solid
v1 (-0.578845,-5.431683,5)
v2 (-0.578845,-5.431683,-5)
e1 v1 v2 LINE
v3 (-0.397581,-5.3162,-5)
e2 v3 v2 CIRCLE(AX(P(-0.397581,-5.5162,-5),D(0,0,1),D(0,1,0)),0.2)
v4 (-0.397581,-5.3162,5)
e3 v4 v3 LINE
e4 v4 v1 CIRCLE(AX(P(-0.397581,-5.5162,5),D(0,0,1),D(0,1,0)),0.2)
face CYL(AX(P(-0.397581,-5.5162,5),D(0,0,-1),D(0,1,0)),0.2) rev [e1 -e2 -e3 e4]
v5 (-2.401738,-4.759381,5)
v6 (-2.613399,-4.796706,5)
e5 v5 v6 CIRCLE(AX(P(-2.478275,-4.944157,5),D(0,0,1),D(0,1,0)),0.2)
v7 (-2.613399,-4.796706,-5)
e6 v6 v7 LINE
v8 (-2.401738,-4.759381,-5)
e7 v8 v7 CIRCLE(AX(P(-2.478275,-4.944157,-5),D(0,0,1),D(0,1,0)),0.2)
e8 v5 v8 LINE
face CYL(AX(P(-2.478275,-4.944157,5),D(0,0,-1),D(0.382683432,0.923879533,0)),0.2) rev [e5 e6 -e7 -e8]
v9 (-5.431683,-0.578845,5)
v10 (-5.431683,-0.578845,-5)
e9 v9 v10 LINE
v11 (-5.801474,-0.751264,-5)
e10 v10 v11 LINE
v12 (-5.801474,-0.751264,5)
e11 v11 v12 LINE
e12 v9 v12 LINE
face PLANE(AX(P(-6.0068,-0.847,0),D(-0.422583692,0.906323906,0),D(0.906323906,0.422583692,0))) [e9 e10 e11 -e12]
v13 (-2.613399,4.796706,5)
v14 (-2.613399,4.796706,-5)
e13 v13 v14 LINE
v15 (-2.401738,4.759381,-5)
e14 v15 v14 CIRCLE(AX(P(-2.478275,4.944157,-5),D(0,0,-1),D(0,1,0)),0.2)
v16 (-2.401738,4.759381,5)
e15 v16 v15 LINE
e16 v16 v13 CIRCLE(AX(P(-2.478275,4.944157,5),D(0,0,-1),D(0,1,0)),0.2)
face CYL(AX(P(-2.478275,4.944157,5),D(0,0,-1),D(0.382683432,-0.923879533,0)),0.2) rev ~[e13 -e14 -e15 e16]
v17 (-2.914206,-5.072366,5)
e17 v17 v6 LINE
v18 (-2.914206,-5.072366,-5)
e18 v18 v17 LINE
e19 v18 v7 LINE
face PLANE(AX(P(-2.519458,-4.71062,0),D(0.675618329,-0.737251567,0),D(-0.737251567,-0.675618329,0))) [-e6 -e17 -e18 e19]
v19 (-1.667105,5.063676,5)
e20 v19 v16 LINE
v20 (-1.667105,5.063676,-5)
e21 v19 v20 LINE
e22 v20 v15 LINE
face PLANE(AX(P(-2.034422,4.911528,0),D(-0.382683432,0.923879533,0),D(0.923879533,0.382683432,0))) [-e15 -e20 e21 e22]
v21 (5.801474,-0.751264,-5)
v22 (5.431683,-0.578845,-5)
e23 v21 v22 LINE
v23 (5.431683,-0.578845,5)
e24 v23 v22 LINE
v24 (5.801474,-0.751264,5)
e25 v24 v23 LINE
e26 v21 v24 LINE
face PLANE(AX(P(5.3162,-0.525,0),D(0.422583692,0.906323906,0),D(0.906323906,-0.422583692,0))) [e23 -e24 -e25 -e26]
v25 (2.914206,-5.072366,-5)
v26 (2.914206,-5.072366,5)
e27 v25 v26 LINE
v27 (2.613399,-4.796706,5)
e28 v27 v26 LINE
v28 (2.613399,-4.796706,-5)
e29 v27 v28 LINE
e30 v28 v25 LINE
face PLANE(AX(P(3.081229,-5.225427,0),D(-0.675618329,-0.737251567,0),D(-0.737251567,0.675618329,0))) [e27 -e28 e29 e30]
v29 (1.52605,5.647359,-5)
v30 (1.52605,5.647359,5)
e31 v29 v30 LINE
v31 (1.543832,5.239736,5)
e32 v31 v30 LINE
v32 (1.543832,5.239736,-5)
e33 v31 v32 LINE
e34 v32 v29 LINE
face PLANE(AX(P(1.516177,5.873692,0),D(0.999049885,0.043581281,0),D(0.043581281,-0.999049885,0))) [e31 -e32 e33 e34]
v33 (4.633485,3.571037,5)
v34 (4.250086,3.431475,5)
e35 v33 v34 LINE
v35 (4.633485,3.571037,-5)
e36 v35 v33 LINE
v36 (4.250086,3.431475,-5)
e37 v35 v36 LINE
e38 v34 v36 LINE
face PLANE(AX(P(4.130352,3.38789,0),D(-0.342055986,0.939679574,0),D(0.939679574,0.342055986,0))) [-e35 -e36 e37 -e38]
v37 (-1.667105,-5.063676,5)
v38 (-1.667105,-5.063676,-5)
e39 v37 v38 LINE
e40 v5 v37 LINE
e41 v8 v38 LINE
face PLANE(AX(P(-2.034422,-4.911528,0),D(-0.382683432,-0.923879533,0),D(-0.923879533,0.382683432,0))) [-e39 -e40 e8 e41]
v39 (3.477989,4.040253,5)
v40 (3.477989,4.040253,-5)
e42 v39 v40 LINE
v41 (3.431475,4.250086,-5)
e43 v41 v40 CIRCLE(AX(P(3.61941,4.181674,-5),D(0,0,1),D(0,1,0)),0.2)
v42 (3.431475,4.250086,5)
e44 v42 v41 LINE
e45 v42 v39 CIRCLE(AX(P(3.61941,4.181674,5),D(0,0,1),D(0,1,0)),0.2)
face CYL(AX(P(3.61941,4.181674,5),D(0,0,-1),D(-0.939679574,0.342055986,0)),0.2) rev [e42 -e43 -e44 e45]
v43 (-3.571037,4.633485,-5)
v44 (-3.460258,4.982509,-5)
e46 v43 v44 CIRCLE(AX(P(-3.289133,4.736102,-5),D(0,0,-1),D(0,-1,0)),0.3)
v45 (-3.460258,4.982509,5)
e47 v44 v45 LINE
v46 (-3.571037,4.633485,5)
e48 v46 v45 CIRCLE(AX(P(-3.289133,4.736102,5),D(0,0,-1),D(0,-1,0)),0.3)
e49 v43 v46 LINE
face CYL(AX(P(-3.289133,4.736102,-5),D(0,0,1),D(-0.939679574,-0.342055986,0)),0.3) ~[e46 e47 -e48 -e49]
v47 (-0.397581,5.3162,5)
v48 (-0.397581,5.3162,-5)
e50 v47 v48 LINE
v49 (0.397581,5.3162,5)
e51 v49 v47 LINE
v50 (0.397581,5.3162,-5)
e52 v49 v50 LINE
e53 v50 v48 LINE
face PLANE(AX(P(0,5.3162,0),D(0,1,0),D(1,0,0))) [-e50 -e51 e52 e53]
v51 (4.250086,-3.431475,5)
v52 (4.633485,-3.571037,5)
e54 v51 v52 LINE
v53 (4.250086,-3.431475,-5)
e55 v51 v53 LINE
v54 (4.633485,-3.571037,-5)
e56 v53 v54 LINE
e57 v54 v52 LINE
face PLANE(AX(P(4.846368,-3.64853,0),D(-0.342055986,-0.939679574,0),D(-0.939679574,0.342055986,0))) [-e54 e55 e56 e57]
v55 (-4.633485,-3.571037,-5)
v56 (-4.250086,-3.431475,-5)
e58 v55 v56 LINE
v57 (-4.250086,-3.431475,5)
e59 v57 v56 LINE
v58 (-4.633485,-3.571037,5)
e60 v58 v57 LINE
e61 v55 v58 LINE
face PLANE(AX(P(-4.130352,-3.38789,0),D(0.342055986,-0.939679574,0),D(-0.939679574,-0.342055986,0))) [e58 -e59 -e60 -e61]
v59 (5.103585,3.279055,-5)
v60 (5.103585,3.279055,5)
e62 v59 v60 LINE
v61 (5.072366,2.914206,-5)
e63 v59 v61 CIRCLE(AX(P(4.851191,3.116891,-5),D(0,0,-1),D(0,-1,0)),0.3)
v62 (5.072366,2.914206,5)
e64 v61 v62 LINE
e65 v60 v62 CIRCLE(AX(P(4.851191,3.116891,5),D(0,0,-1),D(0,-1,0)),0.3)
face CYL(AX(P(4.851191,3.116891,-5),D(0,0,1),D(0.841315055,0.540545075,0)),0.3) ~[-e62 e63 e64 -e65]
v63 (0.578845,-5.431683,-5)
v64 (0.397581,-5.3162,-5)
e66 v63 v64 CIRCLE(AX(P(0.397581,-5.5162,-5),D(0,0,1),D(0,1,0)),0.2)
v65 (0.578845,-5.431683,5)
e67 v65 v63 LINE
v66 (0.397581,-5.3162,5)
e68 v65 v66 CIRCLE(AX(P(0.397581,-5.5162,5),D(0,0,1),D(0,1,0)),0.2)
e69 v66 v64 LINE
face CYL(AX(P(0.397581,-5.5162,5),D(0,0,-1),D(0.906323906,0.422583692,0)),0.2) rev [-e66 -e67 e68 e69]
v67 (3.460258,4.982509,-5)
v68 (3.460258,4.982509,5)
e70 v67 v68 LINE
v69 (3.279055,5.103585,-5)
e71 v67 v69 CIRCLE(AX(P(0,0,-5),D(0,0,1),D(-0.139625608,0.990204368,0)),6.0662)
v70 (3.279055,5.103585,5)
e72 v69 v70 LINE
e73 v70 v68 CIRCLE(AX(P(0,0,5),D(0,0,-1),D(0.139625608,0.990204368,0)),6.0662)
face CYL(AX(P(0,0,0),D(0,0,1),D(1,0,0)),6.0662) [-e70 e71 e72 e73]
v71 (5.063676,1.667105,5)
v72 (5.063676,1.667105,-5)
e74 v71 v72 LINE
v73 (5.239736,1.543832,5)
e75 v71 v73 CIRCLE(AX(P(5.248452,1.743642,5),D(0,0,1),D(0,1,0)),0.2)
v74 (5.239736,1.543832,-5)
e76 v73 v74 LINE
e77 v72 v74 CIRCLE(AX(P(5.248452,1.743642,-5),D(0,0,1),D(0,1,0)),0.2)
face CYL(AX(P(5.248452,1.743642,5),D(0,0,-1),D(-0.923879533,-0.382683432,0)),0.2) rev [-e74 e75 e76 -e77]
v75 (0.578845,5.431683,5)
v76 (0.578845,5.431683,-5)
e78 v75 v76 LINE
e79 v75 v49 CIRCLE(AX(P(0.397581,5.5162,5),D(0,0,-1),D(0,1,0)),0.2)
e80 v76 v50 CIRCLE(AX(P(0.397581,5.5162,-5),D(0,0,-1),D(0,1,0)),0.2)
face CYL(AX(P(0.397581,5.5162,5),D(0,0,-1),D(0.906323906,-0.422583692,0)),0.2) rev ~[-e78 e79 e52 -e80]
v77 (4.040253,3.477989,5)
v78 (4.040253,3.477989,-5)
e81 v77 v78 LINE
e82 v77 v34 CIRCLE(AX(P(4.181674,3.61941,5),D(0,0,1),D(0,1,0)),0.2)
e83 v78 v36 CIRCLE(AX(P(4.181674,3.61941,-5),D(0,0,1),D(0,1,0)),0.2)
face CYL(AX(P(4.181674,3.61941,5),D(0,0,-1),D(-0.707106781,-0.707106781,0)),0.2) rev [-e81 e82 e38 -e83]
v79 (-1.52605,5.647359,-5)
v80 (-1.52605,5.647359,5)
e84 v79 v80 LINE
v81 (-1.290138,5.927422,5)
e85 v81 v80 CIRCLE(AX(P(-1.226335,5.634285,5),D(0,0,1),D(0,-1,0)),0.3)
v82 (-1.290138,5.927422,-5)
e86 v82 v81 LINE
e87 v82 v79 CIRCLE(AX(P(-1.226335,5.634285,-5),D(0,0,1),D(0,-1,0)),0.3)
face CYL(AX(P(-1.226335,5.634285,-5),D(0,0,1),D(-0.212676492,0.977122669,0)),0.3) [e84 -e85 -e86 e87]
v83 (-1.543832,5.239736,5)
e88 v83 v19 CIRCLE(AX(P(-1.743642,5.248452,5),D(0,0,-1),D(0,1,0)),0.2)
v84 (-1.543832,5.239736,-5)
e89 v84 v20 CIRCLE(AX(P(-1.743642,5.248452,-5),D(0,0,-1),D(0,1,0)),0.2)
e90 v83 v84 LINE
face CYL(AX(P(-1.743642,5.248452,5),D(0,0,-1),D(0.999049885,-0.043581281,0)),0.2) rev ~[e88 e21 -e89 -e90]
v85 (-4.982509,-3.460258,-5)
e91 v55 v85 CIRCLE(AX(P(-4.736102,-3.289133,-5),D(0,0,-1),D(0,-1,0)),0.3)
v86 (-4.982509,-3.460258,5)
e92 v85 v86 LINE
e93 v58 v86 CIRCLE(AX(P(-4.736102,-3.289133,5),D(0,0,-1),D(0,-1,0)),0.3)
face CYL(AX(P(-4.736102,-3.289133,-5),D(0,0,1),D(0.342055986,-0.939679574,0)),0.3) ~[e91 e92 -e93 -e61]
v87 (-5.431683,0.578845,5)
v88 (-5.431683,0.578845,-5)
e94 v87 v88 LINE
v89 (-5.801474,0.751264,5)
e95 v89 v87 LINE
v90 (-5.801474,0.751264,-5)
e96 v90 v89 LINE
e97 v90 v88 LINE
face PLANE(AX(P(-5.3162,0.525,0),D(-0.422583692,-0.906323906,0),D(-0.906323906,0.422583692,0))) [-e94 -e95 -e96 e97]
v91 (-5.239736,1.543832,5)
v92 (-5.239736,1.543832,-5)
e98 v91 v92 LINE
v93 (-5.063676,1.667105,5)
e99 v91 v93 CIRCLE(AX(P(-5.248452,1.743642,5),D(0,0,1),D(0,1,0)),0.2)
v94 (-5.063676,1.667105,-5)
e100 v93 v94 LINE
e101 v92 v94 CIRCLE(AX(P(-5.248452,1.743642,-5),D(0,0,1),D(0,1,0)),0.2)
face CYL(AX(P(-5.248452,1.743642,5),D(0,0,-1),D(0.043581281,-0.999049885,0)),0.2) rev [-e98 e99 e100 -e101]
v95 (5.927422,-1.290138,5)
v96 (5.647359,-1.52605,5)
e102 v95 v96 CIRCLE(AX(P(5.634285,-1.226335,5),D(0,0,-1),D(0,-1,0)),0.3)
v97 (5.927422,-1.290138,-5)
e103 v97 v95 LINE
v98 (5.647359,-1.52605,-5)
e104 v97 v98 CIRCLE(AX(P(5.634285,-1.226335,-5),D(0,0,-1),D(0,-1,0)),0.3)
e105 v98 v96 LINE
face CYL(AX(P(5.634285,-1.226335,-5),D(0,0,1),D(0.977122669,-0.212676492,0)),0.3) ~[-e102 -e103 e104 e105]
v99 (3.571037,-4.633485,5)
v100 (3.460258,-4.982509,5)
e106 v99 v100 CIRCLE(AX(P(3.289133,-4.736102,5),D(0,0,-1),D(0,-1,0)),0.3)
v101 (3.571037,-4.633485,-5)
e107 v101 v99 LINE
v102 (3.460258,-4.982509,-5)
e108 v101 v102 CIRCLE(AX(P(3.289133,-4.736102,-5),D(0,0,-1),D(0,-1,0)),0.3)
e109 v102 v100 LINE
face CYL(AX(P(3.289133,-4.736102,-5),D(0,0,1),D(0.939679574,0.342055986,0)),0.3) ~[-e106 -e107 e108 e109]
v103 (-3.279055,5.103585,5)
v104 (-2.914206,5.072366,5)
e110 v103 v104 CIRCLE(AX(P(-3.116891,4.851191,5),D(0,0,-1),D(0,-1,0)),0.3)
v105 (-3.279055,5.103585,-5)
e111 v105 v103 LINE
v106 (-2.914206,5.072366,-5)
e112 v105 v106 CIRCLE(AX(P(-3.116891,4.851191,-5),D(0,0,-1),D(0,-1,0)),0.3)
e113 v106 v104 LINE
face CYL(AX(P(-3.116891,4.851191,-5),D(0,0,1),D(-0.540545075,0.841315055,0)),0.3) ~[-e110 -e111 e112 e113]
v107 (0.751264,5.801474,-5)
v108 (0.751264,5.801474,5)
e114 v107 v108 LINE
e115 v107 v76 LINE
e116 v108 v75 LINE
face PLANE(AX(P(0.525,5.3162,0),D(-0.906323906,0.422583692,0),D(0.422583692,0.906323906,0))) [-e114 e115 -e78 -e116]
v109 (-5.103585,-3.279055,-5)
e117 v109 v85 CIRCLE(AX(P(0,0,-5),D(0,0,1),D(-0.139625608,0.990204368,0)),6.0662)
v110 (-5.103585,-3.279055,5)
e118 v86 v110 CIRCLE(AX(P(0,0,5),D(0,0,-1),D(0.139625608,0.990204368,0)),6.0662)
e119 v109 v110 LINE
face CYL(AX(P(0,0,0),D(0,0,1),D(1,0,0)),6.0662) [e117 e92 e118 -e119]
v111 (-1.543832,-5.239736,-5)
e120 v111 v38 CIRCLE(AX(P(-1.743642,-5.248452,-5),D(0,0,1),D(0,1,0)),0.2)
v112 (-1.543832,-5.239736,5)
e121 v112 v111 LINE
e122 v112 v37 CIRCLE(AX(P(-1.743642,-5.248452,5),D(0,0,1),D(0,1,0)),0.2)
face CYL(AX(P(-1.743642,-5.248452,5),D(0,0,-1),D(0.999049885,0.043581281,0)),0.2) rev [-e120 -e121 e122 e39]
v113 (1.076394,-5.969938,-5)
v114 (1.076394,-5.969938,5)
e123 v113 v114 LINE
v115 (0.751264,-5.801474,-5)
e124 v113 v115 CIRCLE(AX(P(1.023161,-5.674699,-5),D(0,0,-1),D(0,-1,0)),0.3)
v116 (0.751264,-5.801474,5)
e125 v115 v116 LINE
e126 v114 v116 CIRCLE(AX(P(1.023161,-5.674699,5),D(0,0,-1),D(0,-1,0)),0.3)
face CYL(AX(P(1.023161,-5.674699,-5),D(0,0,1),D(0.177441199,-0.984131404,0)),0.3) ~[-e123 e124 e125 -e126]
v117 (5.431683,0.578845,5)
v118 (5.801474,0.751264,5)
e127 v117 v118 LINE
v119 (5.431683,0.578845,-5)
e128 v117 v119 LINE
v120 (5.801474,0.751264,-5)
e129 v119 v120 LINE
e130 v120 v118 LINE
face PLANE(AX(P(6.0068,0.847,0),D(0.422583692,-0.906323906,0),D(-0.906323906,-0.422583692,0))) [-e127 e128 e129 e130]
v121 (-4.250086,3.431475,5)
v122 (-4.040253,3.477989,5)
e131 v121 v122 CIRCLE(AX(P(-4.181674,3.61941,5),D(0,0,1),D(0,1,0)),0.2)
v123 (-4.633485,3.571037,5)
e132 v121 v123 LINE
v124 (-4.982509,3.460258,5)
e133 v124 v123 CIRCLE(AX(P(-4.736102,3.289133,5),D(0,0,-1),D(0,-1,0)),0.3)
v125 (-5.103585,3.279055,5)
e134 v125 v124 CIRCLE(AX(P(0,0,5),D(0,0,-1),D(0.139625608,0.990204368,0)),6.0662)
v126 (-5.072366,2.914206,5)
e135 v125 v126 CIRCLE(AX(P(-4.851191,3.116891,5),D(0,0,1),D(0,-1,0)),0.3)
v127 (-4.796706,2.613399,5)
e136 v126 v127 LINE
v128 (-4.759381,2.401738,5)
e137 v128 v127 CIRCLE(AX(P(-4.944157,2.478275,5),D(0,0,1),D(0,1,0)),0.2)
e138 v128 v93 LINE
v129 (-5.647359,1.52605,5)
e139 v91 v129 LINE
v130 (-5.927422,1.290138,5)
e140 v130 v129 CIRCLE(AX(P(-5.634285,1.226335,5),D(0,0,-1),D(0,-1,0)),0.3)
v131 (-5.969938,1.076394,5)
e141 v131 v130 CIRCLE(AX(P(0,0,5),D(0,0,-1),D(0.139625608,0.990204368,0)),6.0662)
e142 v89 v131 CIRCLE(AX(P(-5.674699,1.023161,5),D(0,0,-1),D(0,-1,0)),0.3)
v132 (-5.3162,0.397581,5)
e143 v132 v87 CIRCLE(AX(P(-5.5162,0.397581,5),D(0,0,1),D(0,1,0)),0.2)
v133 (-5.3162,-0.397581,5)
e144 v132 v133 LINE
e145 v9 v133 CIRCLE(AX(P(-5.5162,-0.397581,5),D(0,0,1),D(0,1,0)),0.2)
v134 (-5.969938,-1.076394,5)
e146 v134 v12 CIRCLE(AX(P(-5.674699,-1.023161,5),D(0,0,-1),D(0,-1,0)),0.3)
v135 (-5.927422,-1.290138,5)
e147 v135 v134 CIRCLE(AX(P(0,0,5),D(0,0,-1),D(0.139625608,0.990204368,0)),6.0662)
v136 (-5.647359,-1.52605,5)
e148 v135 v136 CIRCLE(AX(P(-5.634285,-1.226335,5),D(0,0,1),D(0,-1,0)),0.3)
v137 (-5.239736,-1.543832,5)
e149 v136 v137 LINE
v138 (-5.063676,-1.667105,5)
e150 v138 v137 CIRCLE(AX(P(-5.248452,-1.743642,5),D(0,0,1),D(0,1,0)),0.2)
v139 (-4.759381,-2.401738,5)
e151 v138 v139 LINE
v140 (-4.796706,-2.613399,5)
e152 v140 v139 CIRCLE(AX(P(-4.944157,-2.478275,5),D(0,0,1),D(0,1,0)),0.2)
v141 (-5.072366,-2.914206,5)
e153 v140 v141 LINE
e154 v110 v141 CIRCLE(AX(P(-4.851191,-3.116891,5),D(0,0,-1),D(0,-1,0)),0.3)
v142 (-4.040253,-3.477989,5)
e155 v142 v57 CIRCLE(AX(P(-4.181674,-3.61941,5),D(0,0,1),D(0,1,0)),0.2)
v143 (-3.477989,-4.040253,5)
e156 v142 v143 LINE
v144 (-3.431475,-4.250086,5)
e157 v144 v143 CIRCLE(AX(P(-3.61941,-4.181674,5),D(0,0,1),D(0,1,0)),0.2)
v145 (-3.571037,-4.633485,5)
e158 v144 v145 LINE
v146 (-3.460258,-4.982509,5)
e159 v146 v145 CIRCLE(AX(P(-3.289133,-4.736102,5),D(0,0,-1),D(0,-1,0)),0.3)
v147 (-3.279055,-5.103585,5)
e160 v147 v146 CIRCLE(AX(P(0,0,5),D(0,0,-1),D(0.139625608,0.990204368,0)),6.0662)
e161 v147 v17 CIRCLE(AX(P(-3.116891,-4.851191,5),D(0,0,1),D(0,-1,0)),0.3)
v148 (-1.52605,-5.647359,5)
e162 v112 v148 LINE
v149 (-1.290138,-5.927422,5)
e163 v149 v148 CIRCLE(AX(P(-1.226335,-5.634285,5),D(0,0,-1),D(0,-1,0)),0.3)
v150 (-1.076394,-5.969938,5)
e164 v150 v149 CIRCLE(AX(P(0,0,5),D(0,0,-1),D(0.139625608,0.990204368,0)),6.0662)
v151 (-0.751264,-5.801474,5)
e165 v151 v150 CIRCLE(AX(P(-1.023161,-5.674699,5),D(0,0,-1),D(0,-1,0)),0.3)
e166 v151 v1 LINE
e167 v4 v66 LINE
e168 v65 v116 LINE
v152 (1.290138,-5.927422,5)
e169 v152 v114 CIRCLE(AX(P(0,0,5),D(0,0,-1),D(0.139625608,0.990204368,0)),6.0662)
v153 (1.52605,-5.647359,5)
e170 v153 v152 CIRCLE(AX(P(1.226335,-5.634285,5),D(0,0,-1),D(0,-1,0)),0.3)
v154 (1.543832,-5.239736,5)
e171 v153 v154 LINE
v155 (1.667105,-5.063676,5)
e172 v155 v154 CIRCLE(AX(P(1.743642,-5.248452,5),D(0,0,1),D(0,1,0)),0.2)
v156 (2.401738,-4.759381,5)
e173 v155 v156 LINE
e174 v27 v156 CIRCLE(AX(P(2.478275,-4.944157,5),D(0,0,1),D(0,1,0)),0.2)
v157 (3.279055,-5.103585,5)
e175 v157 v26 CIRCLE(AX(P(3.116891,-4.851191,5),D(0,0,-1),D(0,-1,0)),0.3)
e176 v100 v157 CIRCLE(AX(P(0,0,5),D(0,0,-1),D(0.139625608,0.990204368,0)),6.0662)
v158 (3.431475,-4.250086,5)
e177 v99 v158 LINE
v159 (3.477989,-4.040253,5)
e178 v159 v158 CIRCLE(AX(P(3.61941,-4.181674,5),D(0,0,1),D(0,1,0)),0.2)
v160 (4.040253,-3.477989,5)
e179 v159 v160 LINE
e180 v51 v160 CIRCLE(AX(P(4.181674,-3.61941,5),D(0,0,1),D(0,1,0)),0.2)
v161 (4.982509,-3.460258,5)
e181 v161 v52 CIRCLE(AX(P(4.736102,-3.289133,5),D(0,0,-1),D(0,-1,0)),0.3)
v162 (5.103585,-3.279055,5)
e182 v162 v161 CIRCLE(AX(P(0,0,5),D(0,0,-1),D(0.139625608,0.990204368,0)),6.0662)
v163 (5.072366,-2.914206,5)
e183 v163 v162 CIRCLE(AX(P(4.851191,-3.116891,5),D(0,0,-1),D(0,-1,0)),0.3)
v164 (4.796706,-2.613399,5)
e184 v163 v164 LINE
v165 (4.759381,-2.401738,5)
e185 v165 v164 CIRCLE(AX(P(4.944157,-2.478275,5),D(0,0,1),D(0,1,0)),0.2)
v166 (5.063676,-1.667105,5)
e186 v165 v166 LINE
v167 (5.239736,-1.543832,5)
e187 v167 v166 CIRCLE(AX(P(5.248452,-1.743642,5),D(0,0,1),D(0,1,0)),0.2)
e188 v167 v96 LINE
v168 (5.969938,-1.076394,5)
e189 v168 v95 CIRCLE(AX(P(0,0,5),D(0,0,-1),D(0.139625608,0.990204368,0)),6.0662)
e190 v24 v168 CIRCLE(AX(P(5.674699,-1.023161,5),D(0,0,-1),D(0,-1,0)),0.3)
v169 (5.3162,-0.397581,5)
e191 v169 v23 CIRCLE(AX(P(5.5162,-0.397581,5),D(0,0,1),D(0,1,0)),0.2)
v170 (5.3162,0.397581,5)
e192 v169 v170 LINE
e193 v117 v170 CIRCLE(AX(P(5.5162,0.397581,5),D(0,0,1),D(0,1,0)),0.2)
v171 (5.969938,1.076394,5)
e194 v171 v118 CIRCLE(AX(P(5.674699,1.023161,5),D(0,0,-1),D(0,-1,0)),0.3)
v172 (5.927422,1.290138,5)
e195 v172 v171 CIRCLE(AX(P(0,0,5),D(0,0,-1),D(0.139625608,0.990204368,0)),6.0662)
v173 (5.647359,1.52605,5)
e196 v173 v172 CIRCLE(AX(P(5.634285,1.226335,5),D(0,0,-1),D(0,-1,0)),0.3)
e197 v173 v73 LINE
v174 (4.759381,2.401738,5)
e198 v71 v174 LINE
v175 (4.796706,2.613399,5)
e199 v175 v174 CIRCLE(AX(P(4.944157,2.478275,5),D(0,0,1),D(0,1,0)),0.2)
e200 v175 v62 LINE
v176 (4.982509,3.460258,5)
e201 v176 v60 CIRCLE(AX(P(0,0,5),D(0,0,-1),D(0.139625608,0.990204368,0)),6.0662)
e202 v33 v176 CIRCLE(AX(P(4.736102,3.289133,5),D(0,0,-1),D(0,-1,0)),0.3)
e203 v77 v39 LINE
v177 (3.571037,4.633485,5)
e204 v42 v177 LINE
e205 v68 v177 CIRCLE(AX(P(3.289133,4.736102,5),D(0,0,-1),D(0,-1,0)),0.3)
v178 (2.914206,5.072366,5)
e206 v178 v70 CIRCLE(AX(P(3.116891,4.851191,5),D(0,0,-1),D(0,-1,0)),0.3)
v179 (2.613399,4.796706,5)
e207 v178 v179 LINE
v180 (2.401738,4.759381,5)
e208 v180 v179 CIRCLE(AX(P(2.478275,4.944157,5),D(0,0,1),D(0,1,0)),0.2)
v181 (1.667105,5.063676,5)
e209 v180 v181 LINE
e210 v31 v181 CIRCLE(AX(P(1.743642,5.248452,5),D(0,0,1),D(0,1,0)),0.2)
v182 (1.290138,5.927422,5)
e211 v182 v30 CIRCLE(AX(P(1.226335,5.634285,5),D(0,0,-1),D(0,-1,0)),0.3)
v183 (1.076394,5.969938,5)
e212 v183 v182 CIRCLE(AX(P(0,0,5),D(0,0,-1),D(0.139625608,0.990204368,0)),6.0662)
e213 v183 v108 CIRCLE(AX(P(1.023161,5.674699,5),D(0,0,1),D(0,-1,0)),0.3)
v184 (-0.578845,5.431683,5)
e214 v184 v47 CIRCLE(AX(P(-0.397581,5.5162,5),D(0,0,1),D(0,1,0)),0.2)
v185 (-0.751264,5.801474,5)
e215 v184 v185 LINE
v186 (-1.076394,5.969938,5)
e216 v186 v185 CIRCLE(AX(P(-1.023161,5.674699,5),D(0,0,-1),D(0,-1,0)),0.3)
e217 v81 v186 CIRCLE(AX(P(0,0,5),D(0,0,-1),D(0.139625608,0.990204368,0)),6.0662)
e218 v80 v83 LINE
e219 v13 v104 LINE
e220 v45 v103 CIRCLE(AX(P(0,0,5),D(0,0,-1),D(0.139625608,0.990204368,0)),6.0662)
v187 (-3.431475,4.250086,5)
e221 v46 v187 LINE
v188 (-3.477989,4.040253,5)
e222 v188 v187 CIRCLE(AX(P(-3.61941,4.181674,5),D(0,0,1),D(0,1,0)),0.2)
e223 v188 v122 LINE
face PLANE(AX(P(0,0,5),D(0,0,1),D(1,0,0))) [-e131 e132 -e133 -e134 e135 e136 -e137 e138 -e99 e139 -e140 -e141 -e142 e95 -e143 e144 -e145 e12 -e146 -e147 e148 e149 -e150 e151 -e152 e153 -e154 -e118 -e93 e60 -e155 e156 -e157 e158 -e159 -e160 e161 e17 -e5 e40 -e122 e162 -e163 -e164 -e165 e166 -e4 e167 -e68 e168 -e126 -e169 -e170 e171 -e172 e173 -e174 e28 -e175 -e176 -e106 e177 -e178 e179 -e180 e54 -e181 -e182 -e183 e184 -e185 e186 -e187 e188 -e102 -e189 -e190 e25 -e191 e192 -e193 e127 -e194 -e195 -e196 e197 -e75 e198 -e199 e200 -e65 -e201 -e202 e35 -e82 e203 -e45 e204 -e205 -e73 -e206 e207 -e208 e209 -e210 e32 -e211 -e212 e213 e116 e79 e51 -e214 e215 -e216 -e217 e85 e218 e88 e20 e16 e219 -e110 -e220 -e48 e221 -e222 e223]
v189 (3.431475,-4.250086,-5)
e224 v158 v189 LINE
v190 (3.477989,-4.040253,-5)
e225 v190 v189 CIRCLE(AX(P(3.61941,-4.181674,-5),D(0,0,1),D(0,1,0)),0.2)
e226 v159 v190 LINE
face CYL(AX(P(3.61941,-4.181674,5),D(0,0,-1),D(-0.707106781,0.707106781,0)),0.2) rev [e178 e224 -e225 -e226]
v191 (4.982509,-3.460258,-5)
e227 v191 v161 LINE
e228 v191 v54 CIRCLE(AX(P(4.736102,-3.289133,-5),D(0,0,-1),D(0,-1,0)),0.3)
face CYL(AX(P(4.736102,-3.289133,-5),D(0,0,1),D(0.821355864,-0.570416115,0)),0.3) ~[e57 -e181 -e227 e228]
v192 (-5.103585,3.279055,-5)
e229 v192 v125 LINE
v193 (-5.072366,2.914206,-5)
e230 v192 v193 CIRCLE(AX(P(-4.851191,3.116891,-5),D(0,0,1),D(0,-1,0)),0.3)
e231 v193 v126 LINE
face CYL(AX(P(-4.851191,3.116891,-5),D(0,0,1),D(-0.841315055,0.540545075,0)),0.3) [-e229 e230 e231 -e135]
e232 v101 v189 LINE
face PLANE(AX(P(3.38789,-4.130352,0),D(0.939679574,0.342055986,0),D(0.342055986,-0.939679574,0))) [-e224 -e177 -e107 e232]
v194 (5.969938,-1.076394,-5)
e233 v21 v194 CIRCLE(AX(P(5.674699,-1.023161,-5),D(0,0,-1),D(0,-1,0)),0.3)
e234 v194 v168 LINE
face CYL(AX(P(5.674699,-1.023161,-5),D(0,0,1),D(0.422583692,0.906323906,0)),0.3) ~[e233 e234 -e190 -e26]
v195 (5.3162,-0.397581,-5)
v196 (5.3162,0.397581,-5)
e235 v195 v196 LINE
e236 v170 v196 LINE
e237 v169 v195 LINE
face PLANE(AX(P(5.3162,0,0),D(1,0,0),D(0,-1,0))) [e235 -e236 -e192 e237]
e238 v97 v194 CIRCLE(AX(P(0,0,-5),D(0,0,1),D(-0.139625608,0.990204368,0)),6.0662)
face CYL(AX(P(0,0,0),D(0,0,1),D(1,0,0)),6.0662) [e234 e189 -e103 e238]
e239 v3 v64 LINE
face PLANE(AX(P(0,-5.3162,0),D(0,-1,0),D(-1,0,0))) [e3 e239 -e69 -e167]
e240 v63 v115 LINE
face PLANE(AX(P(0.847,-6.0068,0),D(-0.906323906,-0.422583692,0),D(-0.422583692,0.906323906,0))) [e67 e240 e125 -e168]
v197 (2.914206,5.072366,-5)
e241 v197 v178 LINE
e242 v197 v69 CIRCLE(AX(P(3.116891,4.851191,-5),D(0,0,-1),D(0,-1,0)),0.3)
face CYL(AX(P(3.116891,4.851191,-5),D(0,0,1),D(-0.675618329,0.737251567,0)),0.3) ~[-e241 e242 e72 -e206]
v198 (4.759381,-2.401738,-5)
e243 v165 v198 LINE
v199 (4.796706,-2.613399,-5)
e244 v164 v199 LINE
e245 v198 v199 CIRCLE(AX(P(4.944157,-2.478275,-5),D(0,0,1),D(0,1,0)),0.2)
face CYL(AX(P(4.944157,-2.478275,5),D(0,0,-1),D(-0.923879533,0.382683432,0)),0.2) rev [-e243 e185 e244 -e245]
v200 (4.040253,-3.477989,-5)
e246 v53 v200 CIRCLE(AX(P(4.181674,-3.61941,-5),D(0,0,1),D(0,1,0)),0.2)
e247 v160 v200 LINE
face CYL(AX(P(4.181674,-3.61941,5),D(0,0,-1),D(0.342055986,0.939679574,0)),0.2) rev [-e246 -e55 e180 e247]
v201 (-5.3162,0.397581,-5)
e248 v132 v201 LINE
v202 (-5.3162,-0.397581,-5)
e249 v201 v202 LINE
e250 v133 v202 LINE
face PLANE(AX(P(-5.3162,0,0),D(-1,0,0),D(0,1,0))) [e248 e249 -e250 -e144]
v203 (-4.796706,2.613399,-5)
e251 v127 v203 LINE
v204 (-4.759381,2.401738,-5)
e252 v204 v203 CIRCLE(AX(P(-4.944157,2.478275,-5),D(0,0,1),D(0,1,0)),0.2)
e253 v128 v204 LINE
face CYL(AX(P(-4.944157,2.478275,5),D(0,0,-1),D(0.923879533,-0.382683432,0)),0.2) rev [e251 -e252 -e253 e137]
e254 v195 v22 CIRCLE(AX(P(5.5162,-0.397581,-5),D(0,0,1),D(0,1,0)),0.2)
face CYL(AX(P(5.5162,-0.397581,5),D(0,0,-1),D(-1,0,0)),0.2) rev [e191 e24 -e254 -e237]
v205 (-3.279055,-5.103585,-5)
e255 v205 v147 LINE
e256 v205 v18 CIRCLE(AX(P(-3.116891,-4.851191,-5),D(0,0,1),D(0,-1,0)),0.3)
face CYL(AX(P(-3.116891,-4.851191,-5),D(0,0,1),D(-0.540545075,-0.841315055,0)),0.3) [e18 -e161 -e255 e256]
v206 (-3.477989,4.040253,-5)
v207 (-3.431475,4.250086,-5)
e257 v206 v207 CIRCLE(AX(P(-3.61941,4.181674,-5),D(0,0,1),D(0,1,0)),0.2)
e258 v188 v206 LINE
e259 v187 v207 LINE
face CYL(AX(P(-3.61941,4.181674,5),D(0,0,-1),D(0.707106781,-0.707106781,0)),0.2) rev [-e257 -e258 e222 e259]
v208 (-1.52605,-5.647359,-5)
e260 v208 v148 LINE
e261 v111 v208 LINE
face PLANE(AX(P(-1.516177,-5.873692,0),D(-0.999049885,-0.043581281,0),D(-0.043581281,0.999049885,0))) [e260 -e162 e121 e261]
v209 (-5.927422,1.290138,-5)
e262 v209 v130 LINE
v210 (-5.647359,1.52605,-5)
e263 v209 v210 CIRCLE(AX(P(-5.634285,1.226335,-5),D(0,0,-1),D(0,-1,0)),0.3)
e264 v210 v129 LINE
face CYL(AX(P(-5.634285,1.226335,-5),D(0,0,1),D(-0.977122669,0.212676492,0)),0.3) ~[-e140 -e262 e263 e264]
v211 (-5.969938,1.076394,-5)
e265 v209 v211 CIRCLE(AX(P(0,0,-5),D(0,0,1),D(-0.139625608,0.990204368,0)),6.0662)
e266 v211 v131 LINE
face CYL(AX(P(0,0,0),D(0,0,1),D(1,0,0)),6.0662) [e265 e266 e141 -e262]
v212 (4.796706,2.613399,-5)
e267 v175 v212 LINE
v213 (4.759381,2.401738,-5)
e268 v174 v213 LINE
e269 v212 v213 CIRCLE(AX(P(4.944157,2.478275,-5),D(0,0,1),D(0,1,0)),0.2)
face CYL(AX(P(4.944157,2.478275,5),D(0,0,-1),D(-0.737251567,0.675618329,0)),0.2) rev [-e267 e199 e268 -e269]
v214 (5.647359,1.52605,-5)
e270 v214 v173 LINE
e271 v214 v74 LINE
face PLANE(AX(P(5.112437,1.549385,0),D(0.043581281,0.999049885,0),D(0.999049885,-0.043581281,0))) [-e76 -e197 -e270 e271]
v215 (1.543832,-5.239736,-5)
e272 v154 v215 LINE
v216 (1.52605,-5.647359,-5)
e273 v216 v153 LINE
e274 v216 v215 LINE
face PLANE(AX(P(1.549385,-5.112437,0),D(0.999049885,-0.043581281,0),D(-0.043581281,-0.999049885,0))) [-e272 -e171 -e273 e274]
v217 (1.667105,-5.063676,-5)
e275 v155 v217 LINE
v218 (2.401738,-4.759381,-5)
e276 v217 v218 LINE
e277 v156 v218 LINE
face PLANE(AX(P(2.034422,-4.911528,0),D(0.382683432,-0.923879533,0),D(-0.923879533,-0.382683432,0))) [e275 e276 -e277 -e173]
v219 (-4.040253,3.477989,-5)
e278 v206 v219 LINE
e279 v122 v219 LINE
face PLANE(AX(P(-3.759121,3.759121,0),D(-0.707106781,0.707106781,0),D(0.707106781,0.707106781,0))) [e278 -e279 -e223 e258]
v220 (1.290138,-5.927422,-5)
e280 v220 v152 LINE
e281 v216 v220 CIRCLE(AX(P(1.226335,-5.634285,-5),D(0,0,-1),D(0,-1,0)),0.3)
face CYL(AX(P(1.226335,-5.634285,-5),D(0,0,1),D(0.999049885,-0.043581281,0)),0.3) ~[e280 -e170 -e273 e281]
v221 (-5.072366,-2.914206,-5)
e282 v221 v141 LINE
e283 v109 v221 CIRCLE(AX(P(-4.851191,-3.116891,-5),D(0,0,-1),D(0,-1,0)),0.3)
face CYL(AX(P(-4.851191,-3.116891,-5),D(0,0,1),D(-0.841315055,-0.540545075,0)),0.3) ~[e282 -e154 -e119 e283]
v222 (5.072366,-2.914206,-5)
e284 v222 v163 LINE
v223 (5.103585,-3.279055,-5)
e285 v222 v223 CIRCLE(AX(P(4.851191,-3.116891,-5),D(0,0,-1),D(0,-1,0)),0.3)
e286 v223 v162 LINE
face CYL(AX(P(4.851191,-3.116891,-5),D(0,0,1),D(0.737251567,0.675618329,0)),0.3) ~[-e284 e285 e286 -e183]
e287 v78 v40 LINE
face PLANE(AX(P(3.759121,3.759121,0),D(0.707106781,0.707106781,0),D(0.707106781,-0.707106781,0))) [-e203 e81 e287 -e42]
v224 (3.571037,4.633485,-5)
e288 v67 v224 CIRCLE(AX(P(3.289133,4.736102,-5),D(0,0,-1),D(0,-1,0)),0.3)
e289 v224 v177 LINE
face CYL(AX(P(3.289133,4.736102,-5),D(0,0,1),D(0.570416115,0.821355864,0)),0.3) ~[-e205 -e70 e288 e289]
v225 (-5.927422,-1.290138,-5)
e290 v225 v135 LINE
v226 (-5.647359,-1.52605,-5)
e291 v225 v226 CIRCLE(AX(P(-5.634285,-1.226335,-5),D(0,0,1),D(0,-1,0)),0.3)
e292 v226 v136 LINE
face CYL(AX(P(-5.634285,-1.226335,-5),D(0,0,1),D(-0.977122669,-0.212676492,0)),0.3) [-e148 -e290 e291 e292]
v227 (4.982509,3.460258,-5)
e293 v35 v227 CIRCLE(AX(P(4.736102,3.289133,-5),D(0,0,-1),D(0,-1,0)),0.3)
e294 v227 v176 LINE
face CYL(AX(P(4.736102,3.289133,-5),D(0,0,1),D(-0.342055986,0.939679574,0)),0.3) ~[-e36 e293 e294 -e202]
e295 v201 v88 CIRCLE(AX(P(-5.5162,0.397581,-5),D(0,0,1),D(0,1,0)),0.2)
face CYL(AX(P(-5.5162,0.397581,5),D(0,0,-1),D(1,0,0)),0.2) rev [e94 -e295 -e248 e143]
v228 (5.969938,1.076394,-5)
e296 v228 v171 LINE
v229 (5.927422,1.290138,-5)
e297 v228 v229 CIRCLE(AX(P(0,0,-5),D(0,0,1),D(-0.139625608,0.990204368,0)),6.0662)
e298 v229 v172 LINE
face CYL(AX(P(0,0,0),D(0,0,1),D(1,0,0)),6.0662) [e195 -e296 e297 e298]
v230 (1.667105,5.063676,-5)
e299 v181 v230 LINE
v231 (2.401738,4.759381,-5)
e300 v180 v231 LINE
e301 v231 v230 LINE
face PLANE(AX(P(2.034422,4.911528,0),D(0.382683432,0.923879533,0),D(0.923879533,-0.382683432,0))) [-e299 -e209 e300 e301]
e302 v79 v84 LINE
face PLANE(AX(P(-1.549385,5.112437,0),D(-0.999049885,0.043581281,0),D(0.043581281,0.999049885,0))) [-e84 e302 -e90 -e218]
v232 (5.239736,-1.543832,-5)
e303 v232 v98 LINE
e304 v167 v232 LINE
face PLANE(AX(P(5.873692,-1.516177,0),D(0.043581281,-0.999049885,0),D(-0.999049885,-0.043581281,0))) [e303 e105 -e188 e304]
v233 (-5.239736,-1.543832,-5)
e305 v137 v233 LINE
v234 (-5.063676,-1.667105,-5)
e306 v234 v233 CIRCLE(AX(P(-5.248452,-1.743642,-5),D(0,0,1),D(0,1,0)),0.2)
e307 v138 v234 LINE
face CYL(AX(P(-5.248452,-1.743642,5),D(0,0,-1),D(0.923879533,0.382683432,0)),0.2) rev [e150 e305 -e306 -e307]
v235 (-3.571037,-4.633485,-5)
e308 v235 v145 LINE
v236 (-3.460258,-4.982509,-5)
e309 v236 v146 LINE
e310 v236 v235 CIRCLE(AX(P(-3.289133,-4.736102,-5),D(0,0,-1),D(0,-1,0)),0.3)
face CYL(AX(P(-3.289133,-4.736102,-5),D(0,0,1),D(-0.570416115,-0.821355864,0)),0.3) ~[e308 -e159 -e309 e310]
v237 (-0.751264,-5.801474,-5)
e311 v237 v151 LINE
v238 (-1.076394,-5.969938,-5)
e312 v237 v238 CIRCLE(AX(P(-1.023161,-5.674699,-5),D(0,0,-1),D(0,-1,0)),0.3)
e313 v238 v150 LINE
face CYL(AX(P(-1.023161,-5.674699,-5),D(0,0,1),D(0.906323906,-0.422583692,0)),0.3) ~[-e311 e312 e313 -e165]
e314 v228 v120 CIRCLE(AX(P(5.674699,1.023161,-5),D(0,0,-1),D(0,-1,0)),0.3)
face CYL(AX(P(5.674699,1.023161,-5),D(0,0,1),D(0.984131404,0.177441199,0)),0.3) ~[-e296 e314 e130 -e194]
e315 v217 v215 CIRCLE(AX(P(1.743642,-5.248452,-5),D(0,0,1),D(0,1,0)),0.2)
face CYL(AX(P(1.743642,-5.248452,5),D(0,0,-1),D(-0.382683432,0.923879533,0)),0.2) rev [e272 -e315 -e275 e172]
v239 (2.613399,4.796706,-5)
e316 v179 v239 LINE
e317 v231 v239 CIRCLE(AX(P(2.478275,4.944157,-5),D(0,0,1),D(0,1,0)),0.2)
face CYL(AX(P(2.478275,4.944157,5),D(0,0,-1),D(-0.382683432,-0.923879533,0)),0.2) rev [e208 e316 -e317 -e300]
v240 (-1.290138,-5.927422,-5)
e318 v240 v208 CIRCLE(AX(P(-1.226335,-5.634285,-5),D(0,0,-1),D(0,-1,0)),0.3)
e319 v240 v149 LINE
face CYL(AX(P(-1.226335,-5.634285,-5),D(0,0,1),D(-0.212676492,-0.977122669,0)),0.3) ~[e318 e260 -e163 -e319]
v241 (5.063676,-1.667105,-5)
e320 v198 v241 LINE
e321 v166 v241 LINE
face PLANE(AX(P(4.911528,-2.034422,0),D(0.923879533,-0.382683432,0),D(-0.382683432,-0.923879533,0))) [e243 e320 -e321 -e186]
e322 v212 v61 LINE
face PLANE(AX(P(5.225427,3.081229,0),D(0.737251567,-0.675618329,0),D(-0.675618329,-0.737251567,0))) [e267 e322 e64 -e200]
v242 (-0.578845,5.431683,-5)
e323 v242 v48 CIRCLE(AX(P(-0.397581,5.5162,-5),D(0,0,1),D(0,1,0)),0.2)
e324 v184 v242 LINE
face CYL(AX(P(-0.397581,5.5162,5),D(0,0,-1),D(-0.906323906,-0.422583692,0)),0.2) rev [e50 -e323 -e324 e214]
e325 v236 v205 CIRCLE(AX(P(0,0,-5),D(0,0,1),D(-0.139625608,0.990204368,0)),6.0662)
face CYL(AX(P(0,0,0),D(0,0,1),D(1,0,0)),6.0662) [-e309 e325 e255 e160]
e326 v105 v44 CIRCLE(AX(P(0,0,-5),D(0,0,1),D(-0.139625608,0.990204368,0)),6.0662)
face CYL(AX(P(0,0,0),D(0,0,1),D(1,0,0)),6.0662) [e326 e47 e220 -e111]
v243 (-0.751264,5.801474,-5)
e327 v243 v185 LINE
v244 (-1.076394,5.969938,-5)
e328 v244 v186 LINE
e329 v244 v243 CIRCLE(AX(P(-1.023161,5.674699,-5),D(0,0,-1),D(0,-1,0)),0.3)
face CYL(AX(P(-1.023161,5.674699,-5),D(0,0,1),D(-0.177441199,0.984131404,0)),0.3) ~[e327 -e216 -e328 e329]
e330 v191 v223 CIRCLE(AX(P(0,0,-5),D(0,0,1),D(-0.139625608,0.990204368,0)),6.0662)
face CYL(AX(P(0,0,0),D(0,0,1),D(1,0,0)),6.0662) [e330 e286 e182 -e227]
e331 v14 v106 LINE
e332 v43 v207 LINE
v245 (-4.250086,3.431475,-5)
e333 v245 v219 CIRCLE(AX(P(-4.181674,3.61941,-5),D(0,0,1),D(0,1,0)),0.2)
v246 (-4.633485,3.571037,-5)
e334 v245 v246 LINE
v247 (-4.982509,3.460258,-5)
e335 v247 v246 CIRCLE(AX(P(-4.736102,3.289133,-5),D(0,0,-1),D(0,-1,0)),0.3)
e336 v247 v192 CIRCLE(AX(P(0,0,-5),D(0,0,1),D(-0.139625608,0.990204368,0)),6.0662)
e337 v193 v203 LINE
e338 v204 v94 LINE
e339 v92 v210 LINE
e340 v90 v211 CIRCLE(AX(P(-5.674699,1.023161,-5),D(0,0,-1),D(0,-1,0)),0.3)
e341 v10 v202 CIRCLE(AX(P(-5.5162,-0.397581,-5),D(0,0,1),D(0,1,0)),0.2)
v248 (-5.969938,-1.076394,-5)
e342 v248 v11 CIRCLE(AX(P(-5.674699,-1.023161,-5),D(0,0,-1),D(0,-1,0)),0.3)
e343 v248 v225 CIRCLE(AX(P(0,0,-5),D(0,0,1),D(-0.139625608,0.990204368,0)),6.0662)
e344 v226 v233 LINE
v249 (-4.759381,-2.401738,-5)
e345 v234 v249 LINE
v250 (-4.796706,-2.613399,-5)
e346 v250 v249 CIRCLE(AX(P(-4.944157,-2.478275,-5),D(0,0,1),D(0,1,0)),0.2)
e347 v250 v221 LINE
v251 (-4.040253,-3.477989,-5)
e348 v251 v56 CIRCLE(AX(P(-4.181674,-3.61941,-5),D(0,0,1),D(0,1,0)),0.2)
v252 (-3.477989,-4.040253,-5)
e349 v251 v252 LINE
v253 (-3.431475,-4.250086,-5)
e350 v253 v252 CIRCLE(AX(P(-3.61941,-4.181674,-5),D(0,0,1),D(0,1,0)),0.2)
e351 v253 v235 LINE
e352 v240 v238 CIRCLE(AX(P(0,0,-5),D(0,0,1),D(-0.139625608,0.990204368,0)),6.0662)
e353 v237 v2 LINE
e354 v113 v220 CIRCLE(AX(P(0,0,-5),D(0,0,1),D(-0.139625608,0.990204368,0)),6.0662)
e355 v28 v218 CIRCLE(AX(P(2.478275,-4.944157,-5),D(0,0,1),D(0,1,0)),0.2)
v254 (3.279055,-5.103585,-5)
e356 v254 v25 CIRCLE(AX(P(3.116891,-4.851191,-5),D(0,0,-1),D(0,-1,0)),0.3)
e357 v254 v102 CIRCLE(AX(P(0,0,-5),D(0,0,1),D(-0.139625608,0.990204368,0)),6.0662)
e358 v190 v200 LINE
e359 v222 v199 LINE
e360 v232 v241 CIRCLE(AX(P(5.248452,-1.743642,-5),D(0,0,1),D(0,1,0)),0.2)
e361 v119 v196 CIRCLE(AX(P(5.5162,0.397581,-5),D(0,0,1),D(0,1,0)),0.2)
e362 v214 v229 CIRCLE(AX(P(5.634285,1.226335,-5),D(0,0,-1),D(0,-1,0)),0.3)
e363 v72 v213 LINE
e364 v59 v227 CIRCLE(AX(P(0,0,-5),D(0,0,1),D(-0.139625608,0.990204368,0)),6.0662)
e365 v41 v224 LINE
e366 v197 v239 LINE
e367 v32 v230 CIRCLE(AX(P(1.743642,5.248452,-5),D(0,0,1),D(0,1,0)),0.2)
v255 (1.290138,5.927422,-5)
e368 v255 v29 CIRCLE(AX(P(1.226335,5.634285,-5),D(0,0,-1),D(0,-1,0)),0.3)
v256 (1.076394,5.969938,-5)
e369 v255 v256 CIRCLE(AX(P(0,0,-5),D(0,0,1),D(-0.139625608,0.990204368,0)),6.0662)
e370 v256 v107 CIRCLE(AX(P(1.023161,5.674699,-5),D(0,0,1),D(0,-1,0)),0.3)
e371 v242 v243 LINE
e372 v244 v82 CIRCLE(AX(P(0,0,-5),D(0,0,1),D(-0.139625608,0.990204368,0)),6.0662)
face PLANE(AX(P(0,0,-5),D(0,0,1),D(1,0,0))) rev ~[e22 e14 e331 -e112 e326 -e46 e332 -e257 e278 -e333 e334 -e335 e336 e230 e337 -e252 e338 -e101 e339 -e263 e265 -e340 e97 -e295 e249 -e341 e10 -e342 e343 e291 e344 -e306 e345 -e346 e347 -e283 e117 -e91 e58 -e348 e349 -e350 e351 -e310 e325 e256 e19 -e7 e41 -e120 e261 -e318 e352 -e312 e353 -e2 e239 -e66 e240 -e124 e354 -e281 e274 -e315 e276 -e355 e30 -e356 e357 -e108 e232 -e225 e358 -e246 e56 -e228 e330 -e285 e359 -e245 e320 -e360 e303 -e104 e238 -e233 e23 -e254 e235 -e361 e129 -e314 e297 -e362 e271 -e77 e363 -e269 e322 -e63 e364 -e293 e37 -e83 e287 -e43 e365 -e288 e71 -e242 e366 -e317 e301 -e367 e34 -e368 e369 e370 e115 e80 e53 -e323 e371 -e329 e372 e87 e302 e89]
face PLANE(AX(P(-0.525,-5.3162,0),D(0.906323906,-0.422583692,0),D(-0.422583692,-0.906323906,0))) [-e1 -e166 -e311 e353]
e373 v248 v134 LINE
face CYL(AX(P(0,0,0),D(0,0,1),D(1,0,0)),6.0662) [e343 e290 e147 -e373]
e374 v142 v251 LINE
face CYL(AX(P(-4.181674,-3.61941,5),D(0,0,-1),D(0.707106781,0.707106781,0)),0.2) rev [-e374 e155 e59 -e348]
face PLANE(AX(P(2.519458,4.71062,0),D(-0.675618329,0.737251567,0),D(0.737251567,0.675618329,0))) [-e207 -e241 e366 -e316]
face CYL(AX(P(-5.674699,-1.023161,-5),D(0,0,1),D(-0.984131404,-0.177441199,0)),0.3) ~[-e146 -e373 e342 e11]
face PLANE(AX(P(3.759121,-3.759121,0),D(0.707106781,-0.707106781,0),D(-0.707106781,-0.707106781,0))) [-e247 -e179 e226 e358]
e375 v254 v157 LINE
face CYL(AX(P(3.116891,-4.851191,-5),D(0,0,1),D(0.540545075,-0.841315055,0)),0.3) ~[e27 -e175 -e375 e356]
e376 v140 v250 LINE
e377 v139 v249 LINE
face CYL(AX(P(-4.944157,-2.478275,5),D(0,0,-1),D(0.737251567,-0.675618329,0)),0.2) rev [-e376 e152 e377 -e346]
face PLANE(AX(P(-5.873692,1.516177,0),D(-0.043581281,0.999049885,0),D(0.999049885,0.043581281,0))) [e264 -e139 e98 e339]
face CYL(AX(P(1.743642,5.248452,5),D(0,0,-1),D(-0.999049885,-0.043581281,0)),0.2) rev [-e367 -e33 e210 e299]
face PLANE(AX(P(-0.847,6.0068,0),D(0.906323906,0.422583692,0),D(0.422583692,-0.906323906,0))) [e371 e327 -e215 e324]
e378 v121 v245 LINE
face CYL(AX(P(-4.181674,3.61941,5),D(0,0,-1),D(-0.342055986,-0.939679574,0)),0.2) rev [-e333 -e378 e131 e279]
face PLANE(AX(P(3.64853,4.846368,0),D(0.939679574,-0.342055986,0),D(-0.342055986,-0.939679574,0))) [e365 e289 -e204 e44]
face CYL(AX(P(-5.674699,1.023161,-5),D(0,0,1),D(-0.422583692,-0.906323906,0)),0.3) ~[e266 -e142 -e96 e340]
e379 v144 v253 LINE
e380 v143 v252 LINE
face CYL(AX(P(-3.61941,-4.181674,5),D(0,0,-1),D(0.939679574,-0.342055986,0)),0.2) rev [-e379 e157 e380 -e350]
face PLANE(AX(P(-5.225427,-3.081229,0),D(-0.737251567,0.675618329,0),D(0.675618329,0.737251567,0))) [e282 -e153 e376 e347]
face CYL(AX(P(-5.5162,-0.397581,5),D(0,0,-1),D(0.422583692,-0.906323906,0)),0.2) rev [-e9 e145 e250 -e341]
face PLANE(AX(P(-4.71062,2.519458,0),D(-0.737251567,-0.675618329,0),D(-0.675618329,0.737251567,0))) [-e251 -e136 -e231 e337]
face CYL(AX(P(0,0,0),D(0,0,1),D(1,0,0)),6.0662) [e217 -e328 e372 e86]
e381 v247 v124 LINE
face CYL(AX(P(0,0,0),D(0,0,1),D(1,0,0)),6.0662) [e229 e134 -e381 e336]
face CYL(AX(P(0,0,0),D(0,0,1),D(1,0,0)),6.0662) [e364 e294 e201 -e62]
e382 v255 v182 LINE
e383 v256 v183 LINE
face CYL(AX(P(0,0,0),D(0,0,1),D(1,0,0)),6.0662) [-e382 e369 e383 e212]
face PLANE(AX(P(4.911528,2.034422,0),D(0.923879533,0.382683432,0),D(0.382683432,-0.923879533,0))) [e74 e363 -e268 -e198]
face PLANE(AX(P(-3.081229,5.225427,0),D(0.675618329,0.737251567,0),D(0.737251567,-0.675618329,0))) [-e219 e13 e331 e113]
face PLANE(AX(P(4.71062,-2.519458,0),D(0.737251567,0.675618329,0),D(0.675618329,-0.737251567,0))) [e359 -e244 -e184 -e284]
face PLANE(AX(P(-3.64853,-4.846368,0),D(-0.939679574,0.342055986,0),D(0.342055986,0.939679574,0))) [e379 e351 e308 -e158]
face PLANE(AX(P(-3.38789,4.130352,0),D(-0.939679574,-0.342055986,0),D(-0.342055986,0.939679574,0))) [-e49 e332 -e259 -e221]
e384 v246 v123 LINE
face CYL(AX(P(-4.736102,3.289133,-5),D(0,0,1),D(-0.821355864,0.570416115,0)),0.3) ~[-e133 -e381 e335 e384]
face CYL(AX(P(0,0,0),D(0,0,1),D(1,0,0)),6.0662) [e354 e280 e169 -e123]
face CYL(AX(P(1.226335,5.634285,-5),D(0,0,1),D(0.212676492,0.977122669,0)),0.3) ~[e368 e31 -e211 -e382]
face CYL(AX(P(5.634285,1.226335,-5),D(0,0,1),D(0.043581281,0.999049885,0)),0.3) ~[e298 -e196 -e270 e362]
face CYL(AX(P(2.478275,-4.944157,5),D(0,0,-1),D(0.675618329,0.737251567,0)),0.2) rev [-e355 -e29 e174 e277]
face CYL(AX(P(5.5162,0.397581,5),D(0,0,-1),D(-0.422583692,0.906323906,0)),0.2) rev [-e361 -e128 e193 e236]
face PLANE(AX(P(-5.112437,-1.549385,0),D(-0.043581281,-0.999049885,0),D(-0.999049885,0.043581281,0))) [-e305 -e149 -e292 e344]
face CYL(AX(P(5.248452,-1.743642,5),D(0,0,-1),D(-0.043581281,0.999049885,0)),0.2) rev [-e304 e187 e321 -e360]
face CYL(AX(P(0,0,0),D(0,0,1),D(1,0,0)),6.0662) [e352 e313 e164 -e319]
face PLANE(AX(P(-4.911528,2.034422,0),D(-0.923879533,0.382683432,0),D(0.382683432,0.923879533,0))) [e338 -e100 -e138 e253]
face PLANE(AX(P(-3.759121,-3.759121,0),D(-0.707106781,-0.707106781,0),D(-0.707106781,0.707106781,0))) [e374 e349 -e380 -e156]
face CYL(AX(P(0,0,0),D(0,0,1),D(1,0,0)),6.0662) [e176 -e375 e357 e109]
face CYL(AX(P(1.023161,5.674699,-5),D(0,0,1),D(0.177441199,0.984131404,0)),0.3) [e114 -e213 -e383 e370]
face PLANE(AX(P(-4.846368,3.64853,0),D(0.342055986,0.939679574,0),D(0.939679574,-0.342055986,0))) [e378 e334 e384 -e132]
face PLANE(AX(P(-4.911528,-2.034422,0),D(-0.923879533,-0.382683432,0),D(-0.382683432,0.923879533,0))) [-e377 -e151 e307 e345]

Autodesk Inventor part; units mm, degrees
ref_plane "YZ Plane" through (0, 0, 0) normal (1, 0, 0) x (0, 1, 0)
ref_plane "XZ Plane" through (0, 0, 0) normal (0, 1, 0) x (-1, 0, 0)
ref_plane "XY Plane" through (0, 0, 0) normal (0, 0, 1) x (1, 0, 0)
sketch "Riemenscheibenskizze" plane through (0, 0, 0) normal (0, 0, 1) x (1, 0, 0)
  circle A0 centre (0, 0) radius 6.3662 construction
  circle A1 centre (0, 0) radius 6.0662
  circle A2 centre (0, 0) radius 5.3162
  line L0 (-0.847, 6.0068) -> (-0.525, 5.3162)
  line L1 (-0.525, 5.3162) -> (0.525, 5.3162)
  line L2 (0.525, 5.3162) -> (0.847, 6.0068)
  line L3 (0, 0) -> (0, 6.0662) construction
  point P0 (0, 5.3162)
  dimension "d0" = 12.7324
  dimension "d1" = 0.3
  dimension "d2" = 0.75
  dimension "d3" = 50
  dimension "d4" = 1.05
extrude "Grundkörper" add sketch "Riemenscheibenskizze" along normal mid plane 10 contours A2 | A1 L0 L1 L2 | L2 L1 L0 A1
extrude "Zahn" cut sketch "Riemenscheibenskizze" along normal through all both and the other way through all contours L2 L1 L0 A1 picked at (0, 5.8118)
fillet "Fillet" radius 0.2 2 edges at (0.525, 5.3162, 0) (-0.525, 5.3162, 0)
fillet "Fillet" radius 0.3 4 edges at (-0.847, 6.0068, 2.5) (-0.847, 6.0068, -2.5) (0.847, 6.0068, 2.5) (0.847, 6.0068, -2.5)
pattern_circular "Zähne" count 16 over 360 about axis through (0, 0, -10) along (0, 0, 1) of "Zahn", "Fillet"
feature "Flansch links" [suppressed]
feature "Flansch rechts" [suppressed]
equation "\"d1\" = da_a"
equation "\"d2\" = da_hg"
equation "\"d3\" = 2 * da_fi"
equation "\"d4\" = da_bw"
equation "\"d5\" = da_bf"
equation "\"d7\" = da_bf"
equation "\"d9\" = da_rb"
equation "\"d10\" = da_rt"
equation "\"da_pb\" = 2.5"
equation "\"da_fi\" = 25deg"
equation "\"da_hg\" = 0.75"
equation "\"da_bw\" = 1.05"
equation "\"da_rb\" = 0.2"
equation "\"da_rt\" = 0.3"
equation "\"da_a\" = 0.3"
equation "\"da_bf\" = 10"
equation "\"da_wf\" = 1.5"
equation "\"da_hf\" = 1.5"
properties part number "Synchrone Riemenscheibe3" material "Steel"
